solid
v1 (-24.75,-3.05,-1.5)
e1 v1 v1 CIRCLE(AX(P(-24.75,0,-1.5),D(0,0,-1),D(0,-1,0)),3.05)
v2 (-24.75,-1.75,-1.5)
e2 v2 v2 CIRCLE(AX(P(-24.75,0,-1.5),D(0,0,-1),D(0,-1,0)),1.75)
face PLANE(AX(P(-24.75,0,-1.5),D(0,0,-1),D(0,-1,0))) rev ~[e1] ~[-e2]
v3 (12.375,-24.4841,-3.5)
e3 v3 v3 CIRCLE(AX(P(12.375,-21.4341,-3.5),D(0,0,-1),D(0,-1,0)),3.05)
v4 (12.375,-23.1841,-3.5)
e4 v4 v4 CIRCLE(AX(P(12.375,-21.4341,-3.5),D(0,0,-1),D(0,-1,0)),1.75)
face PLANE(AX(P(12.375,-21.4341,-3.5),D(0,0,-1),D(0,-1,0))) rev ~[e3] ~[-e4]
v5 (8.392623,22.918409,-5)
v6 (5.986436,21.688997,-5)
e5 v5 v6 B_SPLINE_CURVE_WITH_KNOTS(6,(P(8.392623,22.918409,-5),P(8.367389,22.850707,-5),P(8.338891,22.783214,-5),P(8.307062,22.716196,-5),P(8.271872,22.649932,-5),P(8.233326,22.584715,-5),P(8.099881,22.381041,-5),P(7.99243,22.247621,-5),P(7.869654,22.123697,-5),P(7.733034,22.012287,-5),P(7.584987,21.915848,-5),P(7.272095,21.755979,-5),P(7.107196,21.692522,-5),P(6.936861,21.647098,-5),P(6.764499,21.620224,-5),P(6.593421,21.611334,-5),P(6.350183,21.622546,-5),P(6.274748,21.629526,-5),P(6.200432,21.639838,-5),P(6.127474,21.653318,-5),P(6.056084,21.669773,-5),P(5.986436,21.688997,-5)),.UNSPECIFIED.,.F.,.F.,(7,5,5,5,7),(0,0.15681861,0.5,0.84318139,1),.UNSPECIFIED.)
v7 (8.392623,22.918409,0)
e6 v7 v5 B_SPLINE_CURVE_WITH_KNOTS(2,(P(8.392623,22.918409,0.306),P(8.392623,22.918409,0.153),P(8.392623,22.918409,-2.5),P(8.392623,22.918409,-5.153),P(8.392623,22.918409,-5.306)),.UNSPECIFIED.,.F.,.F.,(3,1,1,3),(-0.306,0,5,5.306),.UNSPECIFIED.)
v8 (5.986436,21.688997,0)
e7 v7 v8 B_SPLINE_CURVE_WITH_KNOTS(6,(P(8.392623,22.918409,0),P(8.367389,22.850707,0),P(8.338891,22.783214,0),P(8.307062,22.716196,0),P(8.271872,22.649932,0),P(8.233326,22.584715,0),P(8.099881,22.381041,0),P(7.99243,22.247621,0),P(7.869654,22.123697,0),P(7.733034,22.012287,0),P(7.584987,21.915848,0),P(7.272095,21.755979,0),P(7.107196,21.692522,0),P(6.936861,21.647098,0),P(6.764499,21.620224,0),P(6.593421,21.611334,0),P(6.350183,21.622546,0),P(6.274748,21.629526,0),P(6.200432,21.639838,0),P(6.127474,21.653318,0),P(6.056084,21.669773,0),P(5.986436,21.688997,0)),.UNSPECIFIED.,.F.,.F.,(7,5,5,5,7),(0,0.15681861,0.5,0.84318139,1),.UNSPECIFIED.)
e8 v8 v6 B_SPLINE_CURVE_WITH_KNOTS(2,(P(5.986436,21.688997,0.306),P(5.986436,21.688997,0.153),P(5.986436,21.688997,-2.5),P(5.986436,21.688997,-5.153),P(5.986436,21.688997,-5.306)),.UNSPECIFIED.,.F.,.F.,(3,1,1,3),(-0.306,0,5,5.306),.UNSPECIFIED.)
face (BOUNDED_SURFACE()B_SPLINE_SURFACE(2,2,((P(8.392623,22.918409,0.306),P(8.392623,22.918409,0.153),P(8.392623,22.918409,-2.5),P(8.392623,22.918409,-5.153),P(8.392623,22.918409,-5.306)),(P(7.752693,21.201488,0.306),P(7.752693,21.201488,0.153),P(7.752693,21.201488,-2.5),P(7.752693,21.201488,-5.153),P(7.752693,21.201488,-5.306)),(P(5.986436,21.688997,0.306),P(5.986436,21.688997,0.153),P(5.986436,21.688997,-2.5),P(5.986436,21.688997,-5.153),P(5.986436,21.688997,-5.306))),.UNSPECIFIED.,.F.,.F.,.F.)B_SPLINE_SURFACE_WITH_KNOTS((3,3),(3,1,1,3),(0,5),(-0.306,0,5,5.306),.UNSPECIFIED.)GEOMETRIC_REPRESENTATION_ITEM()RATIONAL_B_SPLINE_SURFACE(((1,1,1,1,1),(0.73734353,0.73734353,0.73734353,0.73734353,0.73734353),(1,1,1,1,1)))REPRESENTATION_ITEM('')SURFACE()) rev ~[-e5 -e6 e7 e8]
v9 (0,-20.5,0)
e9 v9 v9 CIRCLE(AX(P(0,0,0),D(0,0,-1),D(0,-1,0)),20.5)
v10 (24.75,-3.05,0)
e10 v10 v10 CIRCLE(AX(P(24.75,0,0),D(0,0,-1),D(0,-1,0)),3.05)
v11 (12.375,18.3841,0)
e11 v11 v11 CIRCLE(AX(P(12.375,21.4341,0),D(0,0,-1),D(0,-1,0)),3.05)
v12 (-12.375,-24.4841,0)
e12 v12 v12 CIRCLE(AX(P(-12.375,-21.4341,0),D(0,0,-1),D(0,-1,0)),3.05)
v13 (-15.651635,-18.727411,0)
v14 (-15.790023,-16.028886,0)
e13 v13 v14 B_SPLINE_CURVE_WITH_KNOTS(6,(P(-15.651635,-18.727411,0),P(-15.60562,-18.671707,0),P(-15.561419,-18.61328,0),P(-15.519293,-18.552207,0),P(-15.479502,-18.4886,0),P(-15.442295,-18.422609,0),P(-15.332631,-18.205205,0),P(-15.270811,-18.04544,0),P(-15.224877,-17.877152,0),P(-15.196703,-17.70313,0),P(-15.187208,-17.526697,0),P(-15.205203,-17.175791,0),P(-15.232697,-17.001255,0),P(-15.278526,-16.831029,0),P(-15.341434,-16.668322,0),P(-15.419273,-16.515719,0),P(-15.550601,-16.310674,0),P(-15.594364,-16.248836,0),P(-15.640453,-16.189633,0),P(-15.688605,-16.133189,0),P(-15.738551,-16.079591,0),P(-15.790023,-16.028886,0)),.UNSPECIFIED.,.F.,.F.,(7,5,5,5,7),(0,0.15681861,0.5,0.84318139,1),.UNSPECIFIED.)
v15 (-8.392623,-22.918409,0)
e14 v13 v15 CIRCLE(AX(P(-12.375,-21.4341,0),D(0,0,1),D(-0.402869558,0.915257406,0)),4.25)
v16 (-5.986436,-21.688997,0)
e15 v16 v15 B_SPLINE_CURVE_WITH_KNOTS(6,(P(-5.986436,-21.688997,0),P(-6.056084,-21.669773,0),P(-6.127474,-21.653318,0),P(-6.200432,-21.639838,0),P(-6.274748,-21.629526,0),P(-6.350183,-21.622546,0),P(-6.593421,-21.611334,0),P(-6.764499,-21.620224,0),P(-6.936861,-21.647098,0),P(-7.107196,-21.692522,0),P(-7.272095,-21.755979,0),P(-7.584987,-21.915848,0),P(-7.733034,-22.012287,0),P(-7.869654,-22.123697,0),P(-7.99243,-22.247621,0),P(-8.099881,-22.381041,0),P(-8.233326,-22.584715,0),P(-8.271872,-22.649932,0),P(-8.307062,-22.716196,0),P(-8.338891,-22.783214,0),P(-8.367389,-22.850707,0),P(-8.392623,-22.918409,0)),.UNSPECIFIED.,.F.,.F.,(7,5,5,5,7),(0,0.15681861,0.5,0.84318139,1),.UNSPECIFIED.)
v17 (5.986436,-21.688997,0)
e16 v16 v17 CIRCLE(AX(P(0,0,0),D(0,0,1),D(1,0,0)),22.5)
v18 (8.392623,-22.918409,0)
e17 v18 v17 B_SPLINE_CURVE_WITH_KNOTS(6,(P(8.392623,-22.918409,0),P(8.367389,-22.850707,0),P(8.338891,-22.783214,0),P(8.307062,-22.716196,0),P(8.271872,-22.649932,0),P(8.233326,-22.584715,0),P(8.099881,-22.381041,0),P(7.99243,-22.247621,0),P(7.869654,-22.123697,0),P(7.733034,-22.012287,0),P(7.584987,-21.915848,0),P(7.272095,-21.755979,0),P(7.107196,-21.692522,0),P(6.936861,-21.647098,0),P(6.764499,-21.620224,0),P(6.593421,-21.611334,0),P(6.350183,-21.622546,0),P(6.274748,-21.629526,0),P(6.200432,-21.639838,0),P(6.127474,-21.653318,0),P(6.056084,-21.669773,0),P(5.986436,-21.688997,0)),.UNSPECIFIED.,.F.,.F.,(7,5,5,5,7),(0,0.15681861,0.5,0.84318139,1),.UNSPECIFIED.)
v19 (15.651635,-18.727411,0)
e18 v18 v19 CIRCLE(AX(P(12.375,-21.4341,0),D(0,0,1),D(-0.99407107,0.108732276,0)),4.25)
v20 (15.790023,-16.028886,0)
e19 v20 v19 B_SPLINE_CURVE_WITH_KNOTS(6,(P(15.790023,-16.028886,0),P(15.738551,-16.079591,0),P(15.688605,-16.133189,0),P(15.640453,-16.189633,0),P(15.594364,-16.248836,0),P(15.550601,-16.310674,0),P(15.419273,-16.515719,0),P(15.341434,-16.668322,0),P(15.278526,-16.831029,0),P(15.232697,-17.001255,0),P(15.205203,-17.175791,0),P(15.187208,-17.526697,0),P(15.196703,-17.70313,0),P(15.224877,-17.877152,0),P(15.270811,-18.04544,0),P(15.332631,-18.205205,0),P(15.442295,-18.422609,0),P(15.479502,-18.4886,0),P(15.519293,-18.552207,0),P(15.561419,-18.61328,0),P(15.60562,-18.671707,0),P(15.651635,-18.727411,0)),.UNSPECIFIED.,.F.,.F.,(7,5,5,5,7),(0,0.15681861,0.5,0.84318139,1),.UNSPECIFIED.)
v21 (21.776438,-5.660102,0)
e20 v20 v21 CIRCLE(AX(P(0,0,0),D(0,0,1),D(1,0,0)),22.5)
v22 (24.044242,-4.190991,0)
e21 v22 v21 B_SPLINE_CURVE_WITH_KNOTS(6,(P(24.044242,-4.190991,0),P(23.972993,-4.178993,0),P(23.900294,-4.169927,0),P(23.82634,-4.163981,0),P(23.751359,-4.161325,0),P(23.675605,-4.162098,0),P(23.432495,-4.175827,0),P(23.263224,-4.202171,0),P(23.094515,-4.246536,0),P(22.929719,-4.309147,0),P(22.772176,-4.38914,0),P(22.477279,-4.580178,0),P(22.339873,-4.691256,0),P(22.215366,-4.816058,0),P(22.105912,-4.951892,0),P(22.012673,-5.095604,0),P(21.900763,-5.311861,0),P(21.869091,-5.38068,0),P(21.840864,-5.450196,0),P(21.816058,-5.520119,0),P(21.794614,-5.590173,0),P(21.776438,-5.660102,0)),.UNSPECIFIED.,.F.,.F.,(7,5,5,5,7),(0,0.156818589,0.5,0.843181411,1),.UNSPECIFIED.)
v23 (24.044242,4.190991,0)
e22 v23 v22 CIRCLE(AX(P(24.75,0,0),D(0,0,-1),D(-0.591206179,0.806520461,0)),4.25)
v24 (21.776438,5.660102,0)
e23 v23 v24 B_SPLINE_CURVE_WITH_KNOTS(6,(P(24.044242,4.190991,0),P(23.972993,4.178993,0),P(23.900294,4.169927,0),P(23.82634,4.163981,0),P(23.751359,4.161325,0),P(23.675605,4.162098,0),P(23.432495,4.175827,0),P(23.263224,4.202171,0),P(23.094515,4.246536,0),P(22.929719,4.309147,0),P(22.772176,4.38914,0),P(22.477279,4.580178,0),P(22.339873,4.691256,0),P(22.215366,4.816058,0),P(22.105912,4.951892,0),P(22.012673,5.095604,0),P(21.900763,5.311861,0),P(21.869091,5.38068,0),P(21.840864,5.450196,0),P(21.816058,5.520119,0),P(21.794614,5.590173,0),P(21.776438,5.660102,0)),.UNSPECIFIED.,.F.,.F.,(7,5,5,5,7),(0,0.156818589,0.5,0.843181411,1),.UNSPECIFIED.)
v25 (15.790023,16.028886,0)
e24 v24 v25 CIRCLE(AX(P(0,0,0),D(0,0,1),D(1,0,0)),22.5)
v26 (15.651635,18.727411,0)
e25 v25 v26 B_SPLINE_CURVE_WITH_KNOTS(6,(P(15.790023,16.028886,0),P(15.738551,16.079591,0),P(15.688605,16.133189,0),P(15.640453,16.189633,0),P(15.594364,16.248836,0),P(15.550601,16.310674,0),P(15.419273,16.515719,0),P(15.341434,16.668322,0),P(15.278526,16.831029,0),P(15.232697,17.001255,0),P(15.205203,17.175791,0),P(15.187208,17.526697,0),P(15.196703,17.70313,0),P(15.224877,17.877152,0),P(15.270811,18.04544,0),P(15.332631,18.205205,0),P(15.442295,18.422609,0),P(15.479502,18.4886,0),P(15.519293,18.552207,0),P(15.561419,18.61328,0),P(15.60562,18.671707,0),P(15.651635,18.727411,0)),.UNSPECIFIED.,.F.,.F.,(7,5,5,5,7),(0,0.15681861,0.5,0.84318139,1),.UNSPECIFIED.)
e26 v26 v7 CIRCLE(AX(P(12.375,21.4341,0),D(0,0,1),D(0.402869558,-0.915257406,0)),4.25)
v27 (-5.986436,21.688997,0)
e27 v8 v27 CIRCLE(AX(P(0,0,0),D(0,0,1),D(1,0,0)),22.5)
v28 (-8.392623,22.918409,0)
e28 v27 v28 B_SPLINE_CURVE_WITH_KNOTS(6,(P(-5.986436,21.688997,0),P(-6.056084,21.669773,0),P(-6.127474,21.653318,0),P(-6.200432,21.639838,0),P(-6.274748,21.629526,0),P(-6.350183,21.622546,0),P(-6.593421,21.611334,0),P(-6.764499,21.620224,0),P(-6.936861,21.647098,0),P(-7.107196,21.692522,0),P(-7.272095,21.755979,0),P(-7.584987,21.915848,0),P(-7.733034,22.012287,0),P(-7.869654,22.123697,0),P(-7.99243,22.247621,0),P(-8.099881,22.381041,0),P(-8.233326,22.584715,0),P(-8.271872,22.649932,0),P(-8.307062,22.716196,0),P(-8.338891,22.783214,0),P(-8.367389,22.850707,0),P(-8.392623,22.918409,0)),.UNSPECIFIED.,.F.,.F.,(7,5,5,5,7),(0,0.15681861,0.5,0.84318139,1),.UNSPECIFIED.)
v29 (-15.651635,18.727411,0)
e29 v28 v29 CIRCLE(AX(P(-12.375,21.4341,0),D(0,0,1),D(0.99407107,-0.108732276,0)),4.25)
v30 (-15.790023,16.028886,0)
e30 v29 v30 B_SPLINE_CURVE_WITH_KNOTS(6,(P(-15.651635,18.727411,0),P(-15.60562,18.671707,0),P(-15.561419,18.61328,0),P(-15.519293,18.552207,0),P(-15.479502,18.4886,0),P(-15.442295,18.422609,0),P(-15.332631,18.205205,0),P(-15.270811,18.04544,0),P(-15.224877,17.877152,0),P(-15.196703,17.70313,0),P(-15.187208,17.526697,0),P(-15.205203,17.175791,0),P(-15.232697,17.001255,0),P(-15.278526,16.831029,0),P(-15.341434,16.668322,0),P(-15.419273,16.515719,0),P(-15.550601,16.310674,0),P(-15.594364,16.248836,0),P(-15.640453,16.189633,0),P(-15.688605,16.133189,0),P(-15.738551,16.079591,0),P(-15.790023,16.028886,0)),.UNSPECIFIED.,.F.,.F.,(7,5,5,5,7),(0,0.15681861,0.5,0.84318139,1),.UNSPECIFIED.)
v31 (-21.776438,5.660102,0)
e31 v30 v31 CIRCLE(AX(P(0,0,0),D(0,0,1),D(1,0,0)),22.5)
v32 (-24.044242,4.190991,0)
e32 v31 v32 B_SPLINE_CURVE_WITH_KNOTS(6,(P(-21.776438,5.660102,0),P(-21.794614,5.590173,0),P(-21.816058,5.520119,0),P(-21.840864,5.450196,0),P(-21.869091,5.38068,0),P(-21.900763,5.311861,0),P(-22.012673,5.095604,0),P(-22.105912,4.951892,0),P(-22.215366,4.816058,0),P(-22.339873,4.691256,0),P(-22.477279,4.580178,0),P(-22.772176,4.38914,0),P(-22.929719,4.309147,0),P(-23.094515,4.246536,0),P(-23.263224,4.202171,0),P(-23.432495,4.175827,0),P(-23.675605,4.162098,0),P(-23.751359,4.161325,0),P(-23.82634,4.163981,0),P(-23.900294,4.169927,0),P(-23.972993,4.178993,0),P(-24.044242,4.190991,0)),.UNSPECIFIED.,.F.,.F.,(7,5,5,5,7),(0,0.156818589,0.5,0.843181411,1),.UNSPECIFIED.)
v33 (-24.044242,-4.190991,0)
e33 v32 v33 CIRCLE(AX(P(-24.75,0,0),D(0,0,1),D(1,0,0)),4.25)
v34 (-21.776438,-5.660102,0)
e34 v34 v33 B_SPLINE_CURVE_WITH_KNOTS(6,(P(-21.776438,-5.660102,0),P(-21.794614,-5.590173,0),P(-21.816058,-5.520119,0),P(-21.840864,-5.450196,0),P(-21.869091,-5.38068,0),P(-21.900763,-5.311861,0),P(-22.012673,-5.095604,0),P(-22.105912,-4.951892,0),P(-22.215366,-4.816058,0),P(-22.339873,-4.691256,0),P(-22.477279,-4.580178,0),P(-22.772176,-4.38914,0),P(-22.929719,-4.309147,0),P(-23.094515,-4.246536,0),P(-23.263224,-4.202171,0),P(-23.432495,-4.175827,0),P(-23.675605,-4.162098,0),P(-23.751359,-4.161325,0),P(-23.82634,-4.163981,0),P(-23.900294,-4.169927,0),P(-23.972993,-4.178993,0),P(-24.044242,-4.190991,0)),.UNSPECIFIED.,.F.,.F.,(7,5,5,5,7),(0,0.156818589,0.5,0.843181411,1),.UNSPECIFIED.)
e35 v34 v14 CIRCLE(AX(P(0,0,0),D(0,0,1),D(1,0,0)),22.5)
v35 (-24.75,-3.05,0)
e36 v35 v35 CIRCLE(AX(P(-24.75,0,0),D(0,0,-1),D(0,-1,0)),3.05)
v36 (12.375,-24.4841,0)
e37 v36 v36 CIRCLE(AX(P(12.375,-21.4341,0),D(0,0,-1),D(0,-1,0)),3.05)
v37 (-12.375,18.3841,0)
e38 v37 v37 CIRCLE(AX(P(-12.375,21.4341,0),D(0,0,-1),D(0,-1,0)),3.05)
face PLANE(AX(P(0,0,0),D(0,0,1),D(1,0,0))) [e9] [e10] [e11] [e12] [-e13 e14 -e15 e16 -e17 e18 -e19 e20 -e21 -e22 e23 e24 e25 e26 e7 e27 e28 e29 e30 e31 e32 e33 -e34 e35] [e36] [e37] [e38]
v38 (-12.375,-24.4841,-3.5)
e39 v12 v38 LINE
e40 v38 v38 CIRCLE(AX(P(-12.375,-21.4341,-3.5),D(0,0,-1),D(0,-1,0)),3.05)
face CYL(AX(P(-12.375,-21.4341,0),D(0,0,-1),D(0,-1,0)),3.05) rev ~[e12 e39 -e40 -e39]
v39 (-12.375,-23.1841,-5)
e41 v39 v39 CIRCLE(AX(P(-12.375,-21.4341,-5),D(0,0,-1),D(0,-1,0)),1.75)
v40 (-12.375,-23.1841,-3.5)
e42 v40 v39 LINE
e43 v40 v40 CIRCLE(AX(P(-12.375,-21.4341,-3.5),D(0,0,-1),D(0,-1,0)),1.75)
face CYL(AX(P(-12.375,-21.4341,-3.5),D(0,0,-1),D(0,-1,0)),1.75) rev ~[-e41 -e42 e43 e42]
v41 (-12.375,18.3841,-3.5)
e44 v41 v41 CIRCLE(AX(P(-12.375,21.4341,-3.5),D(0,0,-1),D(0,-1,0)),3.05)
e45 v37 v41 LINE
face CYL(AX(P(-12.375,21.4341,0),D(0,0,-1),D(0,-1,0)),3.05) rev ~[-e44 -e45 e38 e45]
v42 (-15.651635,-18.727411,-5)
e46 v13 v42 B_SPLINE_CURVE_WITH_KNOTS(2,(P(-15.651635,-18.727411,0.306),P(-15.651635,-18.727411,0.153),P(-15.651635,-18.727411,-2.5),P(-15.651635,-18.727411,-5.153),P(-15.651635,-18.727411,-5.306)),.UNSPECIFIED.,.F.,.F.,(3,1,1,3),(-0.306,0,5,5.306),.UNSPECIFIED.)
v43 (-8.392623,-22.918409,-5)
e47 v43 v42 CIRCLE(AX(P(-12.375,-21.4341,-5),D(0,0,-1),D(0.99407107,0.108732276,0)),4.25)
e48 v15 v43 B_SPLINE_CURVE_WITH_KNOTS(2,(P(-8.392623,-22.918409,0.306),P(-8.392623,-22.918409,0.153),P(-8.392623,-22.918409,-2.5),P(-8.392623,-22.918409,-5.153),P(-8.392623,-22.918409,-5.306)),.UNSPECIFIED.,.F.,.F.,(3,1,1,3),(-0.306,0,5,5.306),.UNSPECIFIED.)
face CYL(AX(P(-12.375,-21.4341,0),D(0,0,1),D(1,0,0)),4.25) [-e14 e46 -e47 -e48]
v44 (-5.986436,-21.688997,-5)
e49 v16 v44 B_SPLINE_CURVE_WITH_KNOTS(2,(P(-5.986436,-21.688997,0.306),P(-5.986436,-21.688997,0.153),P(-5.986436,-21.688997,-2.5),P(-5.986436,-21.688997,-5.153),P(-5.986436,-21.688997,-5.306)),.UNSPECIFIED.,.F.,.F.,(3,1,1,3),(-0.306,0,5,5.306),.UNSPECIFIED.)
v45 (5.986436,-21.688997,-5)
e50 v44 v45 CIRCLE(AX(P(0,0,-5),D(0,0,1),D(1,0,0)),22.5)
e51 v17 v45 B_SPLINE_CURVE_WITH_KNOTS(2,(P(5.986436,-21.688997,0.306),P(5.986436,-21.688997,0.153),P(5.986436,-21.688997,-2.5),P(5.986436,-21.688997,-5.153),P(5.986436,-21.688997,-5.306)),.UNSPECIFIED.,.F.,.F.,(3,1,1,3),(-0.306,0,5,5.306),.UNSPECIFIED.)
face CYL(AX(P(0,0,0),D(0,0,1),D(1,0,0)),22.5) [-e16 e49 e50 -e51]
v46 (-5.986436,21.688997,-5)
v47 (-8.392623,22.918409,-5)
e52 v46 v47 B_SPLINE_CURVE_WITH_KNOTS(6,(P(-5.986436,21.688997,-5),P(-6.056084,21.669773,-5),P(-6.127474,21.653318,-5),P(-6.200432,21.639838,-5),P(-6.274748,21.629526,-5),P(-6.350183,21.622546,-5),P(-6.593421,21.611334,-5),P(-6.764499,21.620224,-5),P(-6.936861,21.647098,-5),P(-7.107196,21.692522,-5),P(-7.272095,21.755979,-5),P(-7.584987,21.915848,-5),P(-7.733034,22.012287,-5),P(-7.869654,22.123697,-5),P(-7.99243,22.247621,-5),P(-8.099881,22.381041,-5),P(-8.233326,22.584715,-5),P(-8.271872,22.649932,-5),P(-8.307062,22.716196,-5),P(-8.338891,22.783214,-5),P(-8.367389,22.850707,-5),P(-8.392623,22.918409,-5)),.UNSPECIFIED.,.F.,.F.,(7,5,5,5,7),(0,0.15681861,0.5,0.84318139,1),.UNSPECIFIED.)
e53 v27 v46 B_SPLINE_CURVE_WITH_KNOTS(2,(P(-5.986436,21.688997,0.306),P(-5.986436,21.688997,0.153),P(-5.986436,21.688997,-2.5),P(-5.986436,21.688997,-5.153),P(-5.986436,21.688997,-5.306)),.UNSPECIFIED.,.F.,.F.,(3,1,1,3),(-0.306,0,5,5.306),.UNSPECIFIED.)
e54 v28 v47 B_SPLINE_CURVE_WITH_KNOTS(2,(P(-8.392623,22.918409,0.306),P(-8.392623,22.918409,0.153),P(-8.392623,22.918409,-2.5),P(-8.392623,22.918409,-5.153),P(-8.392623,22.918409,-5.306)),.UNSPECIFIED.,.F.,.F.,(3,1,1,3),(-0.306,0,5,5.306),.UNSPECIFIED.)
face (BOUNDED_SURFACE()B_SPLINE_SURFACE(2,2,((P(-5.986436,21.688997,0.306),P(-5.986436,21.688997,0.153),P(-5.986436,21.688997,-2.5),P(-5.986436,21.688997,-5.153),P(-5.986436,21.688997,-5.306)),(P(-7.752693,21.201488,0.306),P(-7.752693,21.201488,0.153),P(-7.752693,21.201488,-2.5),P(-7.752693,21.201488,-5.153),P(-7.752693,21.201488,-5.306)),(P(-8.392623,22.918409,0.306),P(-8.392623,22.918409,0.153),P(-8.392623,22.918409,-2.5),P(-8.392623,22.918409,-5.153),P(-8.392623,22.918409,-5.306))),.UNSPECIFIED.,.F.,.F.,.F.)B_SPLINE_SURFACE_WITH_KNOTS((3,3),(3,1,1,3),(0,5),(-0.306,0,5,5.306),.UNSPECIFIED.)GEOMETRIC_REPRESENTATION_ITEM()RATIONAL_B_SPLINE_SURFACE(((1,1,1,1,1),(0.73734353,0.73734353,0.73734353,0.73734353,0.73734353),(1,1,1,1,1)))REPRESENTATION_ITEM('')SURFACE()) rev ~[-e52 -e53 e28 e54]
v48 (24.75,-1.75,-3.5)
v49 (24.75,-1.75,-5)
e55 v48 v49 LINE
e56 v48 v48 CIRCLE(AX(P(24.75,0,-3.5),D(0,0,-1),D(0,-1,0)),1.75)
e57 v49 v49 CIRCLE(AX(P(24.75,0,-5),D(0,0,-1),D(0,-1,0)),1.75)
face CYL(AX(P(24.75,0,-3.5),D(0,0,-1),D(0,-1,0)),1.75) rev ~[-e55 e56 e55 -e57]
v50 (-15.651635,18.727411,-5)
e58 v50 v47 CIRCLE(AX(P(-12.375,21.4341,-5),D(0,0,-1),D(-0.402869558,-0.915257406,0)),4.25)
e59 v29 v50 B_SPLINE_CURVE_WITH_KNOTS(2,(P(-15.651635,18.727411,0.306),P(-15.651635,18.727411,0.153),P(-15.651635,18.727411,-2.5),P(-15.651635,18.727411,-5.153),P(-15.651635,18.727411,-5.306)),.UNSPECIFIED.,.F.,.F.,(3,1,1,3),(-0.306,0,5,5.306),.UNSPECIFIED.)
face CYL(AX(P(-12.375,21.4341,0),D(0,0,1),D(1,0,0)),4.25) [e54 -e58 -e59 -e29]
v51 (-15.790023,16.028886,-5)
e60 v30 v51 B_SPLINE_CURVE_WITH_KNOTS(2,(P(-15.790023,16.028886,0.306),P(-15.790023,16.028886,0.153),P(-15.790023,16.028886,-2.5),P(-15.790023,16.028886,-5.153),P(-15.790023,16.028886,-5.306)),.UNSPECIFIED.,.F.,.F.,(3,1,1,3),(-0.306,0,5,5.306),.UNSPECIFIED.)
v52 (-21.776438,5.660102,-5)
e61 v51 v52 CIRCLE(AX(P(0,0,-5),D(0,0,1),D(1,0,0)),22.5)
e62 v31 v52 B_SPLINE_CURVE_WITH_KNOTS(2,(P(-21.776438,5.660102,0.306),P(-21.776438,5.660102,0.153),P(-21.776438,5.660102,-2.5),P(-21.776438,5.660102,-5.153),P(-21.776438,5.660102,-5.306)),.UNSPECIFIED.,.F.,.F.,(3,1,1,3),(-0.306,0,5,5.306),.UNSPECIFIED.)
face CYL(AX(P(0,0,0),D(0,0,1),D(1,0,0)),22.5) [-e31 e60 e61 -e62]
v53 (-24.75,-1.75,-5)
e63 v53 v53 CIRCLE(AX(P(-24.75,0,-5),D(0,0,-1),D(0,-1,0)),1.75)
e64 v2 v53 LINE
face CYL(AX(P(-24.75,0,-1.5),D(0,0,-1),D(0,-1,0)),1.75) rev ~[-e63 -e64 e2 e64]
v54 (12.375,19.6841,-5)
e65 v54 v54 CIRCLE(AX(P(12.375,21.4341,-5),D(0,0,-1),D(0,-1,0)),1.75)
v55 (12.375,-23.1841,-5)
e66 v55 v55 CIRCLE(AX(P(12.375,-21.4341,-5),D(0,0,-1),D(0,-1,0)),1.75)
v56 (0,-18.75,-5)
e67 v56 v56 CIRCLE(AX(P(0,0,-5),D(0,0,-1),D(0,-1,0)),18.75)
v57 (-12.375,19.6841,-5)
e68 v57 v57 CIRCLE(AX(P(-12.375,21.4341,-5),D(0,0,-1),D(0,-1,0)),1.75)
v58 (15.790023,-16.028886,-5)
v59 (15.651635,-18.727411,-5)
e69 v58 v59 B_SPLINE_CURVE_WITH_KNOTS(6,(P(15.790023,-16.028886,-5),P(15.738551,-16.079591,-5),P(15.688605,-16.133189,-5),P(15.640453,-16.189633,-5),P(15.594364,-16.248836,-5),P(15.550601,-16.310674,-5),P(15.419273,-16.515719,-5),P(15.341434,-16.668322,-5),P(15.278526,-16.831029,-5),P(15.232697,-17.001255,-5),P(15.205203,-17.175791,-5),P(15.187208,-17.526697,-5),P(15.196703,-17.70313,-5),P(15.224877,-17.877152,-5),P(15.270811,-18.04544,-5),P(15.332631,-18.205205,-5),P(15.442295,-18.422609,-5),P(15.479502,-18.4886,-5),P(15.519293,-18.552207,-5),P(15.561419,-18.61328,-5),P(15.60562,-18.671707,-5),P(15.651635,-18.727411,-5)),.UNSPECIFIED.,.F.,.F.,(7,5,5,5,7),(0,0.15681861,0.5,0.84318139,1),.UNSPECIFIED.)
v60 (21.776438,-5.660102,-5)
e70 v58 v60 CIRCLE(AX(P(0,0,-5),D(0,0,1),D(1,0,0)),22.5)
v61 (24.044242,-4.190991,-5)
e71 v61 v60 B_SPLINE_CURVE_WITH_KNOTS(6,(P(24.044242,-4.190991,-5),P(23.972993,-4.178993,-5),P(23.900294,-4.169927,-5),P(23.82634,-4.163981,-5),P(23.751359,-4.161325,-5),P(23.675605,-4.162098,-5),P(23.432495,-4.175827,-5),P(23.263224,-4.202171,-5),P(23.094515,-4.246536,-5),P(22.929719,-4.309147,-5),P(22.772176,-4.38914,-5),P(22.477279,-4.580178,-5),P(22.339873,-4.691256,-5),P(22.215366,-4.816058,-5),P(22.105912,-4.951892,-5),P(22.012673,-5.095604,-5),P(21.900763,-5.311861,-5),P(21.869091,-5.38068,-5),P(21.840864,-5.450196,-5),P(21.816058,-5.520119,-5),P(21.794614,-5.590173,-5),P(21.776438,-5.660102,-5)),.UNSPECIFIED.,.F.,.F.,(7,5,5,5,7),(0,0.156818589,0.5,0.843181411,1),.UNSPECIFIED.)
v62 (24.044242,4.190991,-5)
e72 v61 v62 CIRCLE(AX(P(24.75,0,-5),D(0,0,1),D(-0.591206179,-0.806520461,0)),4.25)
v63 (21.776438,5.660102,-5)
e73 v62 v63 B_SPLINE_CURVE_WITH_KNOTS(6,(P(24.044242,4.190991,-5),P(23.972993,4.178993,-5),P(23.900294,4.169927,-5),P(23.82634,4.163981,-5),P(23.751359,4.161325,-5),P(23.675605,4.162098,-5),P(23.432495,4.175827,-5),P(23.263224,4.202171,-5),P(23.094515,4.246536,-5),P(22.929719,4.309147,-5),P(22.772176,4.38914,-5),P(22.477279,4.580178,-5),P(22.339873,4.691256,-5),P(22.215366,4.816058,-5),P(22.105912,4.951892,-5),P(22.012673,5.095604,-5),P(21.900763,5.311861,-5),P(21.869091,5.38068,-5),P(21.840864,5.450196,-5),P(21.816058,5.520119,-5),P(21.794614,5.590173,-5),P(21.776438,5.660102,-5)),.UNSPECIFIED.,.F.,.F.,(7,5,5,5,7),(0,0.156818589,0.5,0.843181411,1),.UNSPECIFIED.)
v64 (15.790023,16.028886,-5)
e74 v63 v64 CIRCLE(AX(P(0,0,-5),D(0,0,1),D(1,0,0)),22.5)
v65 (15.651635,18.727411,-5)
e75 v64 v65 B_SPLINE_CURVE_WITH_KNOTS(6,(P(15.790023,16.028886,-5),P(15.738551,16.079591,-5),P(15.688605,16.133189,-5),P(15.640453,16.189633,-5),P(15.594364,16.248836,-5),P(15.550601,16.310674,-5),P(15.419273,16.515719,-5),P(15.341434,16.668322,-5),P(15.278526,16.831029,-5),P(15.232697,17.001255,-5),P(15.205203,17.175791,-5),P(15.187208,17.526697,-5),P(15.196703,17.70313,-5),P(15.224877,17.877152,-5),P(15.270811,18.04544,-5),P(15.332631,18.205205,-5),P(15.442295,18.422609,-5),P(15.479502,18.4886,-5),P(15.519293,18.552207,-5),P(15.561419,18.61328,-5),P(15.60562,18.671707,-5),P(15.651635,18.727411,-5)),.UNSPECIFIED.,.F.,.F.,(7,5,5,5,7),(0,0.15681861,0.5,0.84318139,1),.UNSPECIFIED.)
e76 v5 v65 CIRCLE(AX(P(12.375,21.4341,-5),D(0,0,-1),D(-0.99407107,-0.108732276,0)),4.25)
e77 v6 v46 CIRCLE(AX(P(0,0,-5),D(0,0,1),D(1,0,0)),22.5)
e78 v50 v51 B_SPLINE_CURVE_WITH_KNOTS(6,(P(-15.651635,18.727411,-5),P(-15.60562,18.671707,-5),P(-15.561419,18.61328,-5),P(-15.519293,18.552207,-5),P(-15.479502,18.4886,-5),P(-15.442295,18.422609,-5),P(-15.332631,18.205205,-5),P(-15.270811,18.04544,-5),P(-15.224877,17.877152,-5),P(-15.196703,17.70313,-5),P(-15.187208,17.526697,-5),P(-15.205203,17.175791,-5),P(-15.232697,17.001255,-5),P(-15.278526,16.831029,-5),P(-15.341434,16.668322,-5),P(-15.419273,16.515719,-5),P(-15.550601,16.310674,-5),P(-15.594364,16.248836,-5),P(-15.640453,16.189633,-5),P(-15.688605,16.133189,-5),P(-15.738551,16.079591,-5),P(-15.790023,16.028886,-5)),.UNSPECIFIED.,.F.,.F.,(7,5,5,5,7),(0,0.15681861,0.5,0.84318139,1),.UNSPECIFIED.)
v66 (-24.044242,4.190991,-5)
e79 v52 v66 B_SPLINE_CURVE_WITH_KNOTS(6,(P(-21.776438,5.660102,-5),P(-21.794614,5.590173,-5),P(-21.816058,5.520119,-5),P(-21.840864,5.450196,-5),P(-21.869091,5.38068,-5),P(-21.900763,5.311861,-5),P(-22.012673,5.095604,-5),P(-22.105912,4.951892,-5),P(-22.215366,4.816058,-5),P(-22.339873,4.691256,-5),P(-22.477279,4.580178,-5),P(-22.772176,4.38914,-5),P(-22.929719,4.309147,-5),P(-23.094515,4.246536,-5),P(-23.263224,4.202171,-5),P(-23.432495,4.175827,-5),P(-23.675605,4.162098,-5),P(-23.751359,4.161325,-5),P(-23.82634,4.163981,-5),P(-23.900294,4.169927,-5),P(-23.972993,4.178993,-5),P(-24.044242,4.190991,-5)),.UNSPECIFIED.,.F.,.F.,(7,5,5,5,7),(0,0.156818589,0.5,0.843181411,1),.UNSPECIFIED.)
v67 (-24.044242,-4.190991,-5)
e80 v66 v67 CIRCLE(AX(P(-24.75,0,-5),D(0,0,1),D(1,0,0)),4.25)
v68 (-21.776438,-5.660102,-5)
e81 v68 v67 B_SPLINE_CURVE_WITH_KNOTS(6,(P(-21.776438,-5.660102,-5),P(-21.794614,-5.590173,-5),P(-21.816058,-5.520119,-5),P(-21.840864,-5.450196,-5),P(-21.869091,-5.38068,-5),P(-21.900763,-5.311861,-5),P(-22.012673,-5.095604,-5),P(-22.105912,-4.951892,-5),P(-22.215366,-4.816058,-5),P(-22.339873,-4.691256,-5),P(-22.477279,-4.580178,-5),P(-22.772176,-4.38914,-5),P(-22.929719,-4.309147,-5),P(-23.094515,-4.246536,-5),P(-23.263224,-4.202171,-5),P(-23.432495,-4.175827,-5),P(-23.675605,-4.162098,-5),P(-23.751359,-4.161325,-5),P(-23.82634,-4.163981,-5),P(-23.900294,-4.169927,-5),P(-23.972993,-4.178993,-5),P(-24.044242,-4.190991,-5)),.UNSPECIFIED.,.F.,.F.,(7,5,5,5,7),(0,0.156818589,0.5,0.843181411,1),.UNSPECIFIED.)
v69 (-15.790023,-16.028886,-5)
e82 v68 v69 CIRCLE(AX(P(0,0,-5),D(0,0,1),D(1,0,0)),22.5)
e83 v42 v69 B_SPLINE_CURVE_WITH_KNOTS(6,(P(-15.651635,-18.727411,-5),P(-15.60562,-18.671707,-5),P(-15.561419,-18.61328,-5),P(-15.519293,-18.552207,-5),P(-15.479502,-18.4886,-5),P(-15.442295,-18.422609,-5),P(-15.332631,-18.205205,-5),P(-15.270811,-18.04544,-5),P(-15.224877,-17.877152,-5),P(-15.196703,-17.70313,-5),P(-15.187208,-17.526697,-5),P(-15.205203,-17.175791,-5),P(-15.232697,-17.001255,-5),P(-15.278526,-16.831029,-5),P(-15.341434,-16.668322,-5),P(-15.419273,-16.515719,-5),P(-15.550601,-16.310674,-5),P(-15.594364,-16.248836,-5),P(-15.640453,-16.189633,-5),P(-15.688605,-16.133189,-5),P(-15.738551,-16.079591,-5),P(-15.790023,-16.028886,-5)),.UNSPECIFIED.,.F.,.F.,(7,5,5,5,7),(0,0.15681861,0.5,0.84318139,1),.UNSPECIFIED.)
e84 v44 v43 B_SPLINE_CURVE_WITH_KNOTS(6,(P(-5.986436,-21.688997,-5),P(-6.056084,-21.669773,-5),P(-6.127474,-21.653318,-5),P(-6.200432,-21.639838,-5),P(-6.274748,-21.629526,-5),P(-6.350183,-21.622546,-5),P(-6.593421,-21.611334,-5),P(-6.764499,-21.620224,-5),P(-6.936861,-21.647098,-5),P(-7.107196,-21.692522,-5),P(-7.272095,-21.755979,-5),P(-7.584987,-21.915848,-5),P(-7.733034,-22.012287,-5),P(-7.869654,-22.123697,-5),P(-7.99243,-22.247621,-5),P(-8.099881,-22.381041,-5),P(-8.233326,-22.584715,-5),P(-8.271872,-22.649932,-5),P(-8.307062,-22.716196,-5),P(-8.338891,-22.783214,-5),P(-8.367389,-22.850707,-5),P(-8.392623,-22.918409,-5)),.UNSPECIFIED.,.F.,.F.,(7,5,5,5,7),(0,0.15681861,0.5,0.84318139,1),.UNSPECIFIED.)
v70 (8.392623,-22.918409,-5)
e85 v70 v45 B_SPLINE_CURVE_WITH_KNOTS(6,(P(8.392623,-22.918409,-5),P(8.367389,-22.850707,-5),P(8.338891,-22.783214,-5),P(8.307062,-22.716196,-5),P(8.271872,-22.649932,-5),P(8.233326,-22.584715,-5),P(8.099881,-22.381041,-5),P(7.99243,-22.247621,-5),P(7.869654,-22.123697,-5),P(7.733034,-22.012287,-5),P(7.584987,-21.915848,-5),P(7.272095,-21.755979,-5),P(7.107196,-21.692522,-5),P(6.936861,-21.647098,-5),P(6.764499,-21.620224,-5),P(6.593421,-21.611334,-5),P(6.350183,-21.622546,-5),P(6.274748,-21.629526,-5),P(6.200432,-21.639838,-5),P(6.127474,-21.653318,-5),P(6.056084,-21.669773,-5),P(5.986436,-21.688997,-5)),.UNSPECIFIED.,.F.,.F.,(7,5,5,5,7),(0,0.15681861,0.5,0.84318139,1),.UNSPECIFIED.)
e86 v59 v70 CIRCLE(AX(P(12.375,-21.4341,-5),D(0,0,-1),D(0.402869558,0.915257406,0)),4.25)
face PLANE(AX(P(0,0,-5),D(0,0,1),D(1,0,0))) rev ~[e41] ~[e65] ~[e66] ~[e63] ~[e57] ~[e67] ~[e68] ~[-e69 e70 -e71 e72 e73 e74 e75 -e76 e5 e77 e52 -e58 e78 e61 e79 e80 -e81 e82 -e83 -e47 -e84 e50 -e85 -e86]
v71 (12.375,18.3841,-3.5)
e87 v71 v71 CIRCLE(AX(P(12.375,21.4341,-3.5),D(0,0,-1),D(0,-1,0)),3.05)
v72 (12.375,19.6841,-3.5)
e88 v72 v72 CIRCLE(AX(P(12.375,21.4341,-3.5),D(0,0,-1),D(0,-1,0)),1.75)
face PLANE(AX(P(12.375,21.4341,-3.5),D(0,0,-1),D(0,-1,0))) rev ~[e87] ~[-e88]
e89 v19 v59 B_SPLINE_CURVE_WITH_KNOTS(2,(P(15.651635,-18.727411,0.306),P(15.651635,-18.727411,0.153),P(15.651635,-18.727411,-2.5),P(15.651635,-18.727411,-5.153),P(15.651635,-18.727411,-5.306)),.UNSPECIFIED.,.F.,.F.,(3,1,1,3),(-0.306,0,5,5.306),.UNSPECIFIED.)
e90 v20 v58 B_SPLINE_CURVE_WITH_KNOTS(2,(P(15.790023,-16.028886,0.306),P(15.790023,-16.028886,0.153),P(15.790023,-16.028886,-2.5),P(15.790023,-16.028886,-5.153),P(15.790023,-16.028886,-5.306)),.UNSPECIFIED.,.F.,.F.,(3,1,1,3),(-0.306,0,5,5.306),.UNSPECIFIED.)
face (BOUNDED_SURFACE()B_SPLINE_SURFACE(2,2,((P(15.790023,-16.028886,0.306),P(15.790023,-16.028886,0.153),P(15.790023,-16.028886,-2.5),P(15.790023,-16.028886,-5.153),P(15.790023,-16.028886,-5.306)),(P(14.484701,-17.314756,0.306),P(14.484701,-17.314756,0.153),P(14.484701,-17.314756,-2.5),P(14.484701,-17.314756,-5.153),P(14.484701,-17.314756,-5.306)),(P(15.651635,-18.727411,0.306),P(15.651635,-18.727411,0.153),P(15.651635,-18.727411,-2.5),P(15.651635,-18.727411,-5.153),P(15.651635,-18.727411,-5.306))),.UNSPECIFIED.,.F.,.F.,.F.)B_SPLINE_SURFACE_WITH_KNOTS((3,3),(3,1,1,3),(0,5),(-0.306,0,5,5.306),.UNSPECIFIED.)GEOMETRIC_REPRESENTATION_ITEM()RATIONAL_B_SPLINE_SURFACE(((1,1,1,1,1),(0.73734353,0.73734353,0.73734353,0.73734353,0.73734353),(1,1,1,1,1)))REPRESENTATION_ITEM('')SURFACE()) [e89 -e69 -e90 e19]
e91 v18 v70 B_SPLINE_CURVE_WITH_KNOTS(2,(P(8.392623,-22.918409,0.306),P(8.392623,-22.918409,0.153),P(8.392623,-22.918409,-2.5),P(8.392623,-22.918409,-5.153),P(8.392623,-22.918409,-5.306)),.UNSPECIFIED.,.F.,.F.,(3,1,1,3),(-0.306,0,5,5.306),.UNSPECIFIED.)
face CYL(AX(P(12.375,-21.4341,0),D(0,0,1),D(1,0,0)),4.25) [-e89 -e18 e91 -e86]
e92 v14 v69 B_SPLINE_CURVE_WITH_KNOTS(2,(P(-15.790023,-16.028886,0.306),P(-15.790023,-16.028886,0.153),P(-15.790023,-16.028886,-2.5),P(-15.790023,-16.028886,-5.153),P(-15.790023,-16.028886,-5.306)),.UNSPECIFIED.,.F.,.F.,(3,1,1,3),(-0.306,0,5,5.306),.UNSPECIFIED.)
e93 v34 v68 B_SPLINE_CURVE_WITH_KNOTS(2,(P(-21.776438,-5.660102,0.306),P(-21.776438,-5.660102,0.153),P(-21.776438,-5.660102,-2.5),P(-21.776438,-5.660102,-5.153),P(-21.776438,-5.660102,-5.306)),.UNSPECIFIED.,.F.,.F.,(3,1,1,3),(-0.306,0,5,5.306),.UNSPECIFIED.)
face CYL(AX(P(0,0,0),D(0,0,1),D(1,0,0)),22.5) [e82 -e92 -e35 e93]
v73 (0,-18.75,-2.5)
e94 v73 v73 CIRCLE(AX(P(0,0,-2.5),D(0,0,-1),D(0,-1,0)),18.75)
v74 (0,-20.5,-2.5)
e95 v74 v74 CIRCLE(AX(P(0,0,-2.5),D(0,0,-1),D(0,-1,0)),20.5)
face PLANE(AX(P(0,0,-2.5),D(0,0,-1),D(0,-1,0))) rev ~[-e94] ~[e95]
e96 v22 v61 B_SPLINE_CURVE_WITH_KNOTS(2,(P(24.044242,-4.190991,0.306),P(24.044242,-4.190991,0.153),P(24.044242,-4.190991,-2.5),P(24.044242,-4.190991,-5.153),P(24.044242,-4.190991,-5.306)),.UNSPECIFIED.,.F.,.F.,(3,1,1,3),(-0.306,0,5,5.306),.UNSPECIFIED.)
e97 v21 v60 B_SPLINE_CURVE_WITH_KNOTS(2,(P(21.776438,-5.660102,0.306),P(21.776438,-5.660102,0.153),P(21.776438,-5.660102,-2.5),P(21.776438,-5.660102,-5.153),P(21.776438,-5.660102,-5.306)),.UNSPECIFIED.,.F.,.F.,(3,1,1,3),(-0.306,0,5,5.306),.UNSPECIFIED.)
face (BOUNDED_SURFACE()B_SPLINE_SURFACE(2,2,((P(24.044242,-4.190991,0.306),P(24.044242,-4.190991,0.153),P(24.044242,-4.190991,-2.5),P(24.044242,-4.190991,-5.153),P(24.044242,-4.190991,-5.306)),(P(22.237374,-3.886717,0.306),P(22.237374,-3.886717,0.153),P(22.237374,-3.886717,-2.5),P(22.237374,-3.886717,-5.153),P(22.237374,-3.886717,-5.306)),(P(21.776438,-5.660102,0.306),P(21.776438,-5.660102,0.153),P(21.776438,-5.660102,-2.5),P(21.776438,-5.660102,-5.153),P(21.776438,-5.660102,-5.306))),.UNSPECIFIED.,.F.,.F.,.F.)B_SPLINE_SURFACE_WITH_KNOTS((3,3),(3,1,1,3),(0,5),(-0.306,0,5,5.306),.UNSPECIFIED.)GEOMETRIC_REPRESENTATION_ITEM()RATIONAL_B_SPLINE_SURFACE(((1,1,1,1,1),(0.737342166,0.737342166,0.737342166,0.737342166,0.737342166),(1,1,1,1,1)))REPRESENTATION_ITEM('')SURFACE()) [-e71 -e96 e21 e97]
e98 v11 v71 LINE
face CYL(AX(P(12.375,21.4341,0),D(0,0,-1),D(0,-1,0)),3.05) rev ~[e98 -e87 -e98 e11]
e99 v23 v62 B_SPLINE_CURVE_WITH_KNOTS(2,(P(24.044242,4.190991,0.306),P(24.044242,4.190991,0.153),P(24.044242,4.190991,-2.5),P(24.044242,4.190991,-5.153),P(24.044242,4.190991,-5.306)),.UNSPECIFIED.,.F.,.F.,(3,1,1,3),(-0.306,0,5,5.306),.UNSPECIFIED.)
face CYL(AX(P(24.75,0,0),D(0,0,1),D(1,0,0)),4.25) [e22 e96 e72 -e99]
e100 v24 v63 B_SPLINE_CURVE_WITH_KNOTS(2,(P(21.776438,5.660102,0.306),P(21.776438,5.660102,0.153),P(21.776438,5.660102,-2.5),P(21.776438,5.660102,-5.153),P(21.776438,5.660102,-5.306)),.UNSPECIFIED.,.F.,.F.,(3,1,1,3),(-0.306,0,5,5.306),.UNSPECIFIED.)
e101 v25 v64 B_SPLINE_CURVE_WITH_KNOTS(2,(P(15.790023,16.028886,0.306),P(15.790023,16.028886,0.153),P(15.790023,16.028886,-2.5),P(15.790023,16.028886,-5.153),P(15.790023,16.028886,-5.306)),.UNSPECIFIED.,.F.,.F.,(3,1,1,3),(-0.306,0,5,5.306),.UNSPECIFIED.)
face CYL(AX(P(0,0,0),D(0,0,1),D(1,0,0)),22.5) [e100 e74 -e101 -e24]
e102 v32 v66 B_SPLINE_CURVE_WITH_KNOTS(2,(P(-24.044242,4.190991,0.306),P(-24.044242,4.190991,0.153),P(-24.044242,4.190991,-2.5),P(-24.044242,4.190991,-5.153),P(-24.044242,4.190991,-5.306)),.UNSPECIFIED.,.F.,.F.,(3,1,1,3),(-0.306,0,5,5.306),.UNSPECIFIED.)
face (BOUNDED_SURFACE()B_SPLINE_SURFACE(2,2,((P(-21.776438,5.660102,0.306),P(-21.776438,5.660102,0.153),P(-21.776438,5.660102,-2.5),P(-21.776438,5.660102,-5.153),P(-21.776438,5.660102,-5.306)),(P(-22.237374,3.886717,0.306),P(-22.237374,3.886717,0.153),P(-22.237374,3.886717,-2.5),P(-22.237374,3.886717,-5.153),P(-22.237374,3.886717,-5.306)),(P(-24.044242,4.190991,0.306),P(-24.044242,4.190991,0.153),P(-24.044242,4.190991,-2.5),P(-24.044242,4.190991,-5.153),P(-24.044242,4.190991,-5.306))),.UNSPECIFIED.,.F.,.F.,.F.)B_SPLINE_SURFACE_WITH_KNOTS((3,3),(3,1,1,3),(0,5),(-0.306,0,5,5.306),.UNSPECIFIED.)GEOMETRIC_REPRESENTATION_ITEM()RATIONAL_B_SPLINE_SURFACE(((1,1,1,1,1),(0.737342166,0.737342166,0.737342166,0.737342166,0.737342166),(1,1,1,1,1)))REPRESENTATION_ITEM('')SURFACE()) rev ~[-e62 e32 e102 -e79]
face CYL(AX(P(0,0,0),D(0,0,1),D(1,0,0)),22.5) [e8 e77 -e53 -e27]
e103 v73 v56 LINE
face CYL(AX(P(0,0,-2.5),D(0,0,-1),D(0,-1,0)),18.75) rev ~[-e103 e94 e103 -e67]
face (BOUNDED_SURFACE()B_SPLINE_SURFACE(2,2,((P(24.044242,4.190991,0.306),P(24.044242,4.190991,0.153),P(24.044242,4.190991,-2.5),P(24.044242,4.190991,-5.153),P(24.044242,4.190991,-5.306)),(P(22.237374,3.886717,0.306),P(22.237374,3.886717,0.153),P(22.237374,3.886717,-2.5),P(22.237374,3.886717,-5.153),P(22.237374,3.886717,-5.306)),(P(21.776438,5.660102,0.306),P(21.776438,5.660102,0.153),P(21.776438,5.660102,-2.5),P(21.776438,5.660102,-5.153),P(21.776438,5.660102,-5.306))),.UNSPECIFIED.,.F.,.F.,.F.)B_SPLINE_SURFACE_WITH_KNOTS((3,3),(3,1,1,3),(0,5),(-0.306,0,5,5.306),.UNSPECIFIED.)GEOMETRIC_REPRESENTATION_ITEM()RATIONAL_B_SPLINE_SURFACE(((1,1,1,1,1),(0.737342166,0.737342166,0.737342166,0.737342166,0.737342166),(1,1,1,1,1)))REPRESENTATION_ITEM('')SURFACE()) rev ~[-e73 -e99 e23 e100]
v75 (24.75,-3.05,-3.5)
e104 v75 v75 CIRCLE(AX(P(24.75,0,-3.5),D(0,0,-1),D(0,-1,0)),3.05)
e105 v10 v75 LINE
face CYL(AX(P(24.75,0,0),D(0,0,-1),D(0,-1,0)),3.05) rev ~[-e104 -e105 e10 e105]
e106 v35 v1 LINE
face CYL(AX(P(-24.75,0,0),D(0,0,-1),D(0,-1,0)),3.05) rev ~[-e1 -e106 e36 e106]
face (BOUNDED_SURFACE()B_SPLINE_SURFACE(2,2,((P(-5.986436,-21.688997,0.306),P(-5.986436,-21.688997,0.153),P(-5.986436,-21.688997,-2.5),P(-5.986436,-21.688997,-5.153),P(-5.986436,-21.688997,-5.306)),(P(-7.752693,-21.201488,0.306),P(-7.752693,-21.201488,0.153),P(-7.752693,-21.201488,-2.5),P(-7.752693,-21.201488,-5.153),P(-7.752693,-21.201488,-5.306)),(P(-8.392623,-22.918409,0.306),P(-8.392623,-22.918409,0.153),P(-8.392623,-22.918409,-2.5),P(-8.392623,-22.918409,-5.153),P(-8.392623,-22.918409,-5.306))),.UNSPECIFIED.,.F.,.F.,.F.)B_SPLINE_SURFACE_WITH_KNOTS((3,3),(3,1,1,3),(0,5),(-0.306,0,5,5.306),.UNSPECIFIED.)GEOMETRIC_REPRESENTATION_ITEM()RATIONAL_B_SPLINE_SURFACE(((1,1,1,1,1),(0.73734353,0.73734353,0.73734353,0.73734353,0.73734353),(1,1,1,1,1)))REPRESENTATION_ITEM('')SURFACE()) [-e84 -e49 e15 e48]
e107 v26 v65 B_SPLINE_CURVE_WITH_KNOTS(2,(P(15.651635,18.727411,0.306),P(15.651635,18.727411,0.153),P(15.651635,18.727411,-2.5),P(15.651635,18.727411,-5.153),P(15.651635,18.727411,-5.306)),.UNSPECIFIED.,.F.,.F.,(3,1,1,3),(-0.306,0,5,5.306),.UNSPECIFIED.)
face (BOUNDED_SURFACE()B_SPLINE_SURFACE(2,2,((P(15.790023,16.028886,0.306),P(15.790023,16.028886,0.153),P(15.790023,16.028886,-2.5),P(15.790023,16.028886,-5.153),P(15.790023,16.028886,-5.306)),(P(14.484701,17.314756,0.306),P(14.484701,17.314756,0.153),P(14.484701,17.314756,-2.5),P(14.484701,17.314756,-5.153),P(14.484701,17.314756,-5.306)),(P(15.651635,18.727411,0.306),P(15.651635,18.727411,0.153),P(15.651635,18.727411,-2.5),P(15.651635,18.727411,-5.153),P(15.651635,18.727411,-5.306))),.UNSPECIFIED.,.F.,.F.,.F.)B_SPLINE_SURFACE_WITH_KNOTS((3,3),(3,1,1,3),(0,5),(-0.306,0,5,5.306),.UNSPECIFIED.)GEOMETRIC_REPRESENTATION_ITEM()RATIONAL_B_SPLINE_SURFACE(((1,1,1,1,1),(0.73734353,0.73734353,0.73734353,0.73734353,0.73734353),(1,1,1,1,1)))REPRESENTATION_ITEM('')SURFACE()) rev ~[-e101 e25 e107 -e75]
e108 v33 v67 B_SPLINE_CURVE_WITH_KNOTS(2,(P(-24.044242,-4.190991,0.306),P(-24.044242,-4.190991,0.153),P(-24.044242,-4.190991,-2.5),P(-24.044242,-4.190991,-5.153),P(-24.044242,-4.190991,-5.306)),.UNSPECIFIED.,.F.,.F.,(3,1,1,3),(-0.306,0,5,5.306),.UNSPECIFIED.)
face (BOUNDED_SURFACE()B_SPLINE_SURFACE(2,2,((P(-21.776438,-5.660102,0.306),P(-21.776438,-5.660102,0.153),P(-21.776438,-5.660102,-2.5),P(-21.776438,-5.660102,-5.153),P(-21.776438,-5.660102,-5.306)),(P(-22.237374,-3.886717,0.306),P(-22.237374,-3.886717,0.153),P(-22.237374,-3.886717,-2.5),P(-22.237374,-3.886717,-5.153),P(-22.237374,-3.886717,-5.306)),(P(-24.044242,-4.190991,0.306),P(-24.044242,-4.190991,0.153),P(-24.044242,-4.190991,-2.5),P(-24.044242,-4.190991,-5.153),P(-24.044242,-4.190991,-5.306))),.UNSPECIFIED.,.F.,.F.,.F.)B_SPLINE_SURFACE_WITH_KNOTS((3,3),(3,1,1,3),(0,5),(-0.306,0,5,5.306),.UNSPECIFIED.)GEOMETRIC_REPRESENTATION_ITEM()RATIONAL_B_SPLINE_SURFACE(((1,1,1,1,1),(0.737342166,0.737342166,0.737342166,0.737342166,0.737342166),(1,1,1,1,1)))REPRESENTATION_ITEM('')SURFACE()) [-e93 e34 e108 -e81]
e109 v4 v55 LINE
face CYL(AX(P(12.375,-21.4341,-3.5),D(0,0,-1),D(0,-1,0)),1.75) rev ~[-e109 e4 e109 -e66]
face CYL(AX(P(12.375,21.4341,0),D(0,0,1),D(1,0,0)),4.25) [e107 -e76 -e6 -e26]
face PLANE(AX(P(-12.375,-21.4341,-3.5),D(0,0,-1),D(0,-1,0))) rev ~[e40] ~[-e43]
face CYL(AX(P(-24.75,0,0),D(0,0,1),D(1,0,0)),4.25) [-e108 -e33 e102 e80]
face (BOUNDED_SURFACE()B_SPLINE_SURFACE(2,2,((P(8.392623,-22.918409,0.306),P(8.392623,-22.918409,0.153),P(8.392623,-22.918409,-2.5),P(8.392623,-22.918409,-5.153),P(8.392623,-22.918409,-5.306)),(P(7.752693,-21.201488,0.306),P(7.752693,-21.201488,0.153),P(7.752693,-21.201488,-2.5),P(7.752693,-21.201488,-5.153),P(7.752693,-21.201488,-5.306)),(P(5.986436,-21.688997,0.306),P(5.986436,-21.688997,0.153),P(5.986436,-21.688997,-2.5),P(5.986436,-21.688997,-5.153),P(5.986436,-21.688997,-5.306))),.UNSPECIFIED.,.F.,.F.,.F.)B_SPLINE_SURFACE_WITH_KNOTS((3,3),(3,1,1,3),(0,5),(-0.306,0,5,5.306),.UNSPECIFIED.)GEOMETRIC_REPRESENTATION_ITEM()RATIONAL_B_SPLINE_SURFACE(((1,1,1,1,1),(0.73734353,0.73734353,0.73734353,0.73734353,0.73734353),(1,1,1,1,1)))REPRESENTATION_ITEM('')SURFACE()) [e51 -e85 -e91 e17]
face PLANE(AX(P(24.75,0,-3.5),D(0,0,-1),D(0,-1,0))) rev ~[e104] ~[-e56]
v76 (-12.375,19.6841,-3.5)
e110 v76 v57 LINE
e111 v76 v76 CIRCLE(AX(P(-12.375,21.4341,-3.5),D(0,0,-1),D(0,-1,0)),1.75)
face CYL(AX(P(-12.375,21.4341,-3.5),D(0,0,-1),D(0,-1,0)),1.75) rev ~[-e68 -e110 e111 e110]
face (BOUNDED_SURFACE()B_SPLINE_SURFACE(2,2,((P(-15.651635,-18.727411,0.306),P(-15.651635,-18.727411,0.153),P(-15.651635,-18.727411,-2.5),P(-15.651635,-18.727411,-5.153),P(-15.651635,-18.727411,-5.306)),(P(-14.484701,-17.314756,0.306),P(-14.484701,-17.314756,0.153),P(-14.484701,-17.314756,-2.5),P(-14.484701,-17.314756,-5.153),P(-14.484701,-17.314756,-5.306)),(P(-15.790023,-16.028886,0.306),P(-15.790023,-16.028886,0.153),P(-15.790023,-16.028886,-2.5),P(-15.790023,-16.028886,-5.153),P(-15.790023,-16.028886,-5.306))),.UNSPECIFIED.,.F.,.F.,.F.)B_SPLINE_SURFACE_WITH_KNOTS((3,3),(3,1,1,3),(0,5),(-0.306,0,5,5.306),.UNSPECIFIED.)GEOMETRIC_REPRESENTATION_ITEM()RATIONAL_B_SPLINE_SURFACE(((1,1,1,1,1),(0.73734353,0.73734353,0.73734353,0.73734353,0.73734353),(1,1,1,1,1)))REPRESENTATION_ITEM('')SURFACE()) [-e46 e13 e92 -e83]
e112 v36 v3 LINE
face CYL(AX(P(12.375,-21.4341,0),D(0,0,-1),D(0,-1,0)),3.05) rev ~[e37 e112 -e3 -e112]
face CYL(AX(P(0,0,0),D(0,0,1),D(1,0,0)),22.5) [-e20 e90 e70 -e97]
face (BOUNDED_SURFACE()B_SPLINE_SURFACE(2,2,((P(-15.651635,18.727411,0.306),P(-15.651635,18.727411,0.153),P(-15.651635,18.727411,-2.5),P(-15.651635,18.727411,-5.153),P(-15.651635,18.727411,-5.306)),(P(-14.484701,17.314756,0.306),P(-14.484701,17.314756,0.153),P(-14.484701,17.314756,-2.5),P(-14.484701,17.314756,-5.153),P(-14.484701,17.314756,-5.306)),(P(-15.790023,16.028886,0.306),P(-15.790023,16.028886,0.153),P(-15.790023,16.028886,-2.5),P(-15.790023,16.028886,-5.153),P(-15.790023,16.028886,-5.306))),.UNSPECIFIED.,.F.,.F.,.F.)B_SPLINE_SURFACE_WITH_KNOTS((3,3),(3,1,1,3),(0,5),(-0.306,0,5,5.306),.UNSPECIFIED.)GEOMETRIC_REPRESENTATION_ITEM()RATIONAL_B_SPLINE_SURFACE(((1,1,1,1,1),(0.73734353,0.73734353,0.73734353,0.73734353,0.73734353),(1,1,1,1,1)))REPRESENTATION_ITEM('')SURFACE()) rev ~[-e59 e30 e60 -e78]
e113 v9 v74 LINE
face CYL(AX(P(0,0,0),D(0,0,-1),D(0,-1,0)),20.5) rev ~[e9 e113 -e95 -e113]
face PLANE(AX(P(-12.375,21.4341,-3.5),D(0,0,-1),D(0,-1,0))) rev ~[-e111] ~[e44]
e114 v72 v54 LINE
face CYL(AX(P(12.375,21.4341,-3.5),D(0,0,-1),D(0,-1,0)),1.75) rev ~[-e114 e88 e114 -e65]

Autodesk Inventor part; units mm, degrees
ref_plane "YZ Plane" through (0, 0, 0) normal (1, 0, 0) x (0, 1, 0)
ref_plane "XZ Plane" through (0, 0, 0) normal (0, 1, 0) x (-1, 0, 0)
ref_plane "XY Plane" through (0, 0, 0) normal (0, 0, 1) x (1, 0, 0)
sketch "Sketch1" plane through (0, 0, 0) normal (0, 0, 1) x (1, 0, 0)
  circle A0 centre (0, 0) radius 20.5 construction
  line L0 (0, 0) -> (29, 0)
  circle A1 centre (24.75, 0) radius 4.25
  circle A2 centre (24.75, 0) radius 3 construction
  circle A3 centre (24.75, 0) radius 3.05 construction
  circle A4 centre (24.75, 0) radius 2.75 construction
  circle A5 centre (24.75, 0) radius 3.25 construction
  circle A6 centre (0, 0) radius 22.5
  circle A7 centre (12.375, 21.4341) radius 4.25
  circle A8 centre (-12.375, 21.4341) radius 4.25
  circle A9 centre (-24.75, 0) radius 4.25
  circle A10 centre (-12.375, -21.4341) radius 4.25
  circle A11 centre (12.375, -21.4341) radius 4.25
  point P0 (22.2374, -3.4277)
  point P1 (22.2374, 3.4277)
  point P2 (14.5, 25.1147)
  point P3 (-14.5, 25.1147)
  point P4 (-29, 0)
  point P5 (-14.5, -25.1147)
  point P6 (14.5, -25.1147)
  point P7 (14.0872, 17.5443)
  point P8 (8.1502, 20.972)
  point P9 (-8.1502, 20.972)
  point P10 (-14.0872, 17.5443)
  point P11 (-22.2374, -3.4277)
  point P12 (-22.2374, 3.4277)
  point P13 (-14.0872, -17.5443)
  point P14 (-8.1502, -20.972)
  point P15 (8.1502, -20.972)
  point P16 (14.0872, -17.5443)
  dimension "InsideDiameter" = 41
  dimension "SpacerOuterDiameter" = 6
  dimension "SpacerGap" = 0.05
  dimension "M3_HeadDiameter" = 5.5
  dimension "HeadDiameterThickness" = 0.5
  dimension "WallThickness" = 1
  dimension "d38" = 2
  dimension "d41" = 360
extrude "Extrusion1" add sketch "Sketch1" against normal blind 5
hole "Hole1" at (0, 0, 0) direction (0, 0, -1) diameter 37.5 end through all counterbore diameter 41 counterbore depth 2.5
hole "Hole2" at (24.75, 0, 0) at (12.375, -21.4341, 0) at (-12.375, -21.4341, 0) at (-12.375, 21.4341, 0) at (12.375, 21.4341, 0) direction (0, 0, -1) diameter 3.5 end through all counterbore diameter 6.1 counterbore depth 3.5
hole "Hole3" at (-24.75, 0, 0) direction (0, 0, -1) diameter 3.5 end through all counterbore diameter 6.1 counterbore depth 1.5
fillet "Fillet1" radius 2 12 edges at (22.2374, 3.4277, -2.5) (22.2374, -3.4277, -2.5) (14.0872, -17.5443, -2.5) (8.1502, -20.972, -2.5) (-14.0872, -17.5443, -2.5) (-8.1502, -20.972, -2.5) (-22.2374, -3.4277, -2.5) (-22.2374, 3.4277, -2.5) (-14.0872, 17.5443, -2.5) (-8.1502, 20.972, -2.5) (8.1502, 20.972, -2.5) (14.0872, 17.5443, -2.5)
equation "\"InsideDiameter_\" = InsideDiameter"
equation "\"SpacerDiameter\" = SpacerOuterDiameter + 2 * SpacerGap"
equation "\"d33\" = SpacerOuterDiameter + 2 * SpacerGap"
properties part number "CrossRollerBearingOuterSupportStand" material "Aluminum 7075"
